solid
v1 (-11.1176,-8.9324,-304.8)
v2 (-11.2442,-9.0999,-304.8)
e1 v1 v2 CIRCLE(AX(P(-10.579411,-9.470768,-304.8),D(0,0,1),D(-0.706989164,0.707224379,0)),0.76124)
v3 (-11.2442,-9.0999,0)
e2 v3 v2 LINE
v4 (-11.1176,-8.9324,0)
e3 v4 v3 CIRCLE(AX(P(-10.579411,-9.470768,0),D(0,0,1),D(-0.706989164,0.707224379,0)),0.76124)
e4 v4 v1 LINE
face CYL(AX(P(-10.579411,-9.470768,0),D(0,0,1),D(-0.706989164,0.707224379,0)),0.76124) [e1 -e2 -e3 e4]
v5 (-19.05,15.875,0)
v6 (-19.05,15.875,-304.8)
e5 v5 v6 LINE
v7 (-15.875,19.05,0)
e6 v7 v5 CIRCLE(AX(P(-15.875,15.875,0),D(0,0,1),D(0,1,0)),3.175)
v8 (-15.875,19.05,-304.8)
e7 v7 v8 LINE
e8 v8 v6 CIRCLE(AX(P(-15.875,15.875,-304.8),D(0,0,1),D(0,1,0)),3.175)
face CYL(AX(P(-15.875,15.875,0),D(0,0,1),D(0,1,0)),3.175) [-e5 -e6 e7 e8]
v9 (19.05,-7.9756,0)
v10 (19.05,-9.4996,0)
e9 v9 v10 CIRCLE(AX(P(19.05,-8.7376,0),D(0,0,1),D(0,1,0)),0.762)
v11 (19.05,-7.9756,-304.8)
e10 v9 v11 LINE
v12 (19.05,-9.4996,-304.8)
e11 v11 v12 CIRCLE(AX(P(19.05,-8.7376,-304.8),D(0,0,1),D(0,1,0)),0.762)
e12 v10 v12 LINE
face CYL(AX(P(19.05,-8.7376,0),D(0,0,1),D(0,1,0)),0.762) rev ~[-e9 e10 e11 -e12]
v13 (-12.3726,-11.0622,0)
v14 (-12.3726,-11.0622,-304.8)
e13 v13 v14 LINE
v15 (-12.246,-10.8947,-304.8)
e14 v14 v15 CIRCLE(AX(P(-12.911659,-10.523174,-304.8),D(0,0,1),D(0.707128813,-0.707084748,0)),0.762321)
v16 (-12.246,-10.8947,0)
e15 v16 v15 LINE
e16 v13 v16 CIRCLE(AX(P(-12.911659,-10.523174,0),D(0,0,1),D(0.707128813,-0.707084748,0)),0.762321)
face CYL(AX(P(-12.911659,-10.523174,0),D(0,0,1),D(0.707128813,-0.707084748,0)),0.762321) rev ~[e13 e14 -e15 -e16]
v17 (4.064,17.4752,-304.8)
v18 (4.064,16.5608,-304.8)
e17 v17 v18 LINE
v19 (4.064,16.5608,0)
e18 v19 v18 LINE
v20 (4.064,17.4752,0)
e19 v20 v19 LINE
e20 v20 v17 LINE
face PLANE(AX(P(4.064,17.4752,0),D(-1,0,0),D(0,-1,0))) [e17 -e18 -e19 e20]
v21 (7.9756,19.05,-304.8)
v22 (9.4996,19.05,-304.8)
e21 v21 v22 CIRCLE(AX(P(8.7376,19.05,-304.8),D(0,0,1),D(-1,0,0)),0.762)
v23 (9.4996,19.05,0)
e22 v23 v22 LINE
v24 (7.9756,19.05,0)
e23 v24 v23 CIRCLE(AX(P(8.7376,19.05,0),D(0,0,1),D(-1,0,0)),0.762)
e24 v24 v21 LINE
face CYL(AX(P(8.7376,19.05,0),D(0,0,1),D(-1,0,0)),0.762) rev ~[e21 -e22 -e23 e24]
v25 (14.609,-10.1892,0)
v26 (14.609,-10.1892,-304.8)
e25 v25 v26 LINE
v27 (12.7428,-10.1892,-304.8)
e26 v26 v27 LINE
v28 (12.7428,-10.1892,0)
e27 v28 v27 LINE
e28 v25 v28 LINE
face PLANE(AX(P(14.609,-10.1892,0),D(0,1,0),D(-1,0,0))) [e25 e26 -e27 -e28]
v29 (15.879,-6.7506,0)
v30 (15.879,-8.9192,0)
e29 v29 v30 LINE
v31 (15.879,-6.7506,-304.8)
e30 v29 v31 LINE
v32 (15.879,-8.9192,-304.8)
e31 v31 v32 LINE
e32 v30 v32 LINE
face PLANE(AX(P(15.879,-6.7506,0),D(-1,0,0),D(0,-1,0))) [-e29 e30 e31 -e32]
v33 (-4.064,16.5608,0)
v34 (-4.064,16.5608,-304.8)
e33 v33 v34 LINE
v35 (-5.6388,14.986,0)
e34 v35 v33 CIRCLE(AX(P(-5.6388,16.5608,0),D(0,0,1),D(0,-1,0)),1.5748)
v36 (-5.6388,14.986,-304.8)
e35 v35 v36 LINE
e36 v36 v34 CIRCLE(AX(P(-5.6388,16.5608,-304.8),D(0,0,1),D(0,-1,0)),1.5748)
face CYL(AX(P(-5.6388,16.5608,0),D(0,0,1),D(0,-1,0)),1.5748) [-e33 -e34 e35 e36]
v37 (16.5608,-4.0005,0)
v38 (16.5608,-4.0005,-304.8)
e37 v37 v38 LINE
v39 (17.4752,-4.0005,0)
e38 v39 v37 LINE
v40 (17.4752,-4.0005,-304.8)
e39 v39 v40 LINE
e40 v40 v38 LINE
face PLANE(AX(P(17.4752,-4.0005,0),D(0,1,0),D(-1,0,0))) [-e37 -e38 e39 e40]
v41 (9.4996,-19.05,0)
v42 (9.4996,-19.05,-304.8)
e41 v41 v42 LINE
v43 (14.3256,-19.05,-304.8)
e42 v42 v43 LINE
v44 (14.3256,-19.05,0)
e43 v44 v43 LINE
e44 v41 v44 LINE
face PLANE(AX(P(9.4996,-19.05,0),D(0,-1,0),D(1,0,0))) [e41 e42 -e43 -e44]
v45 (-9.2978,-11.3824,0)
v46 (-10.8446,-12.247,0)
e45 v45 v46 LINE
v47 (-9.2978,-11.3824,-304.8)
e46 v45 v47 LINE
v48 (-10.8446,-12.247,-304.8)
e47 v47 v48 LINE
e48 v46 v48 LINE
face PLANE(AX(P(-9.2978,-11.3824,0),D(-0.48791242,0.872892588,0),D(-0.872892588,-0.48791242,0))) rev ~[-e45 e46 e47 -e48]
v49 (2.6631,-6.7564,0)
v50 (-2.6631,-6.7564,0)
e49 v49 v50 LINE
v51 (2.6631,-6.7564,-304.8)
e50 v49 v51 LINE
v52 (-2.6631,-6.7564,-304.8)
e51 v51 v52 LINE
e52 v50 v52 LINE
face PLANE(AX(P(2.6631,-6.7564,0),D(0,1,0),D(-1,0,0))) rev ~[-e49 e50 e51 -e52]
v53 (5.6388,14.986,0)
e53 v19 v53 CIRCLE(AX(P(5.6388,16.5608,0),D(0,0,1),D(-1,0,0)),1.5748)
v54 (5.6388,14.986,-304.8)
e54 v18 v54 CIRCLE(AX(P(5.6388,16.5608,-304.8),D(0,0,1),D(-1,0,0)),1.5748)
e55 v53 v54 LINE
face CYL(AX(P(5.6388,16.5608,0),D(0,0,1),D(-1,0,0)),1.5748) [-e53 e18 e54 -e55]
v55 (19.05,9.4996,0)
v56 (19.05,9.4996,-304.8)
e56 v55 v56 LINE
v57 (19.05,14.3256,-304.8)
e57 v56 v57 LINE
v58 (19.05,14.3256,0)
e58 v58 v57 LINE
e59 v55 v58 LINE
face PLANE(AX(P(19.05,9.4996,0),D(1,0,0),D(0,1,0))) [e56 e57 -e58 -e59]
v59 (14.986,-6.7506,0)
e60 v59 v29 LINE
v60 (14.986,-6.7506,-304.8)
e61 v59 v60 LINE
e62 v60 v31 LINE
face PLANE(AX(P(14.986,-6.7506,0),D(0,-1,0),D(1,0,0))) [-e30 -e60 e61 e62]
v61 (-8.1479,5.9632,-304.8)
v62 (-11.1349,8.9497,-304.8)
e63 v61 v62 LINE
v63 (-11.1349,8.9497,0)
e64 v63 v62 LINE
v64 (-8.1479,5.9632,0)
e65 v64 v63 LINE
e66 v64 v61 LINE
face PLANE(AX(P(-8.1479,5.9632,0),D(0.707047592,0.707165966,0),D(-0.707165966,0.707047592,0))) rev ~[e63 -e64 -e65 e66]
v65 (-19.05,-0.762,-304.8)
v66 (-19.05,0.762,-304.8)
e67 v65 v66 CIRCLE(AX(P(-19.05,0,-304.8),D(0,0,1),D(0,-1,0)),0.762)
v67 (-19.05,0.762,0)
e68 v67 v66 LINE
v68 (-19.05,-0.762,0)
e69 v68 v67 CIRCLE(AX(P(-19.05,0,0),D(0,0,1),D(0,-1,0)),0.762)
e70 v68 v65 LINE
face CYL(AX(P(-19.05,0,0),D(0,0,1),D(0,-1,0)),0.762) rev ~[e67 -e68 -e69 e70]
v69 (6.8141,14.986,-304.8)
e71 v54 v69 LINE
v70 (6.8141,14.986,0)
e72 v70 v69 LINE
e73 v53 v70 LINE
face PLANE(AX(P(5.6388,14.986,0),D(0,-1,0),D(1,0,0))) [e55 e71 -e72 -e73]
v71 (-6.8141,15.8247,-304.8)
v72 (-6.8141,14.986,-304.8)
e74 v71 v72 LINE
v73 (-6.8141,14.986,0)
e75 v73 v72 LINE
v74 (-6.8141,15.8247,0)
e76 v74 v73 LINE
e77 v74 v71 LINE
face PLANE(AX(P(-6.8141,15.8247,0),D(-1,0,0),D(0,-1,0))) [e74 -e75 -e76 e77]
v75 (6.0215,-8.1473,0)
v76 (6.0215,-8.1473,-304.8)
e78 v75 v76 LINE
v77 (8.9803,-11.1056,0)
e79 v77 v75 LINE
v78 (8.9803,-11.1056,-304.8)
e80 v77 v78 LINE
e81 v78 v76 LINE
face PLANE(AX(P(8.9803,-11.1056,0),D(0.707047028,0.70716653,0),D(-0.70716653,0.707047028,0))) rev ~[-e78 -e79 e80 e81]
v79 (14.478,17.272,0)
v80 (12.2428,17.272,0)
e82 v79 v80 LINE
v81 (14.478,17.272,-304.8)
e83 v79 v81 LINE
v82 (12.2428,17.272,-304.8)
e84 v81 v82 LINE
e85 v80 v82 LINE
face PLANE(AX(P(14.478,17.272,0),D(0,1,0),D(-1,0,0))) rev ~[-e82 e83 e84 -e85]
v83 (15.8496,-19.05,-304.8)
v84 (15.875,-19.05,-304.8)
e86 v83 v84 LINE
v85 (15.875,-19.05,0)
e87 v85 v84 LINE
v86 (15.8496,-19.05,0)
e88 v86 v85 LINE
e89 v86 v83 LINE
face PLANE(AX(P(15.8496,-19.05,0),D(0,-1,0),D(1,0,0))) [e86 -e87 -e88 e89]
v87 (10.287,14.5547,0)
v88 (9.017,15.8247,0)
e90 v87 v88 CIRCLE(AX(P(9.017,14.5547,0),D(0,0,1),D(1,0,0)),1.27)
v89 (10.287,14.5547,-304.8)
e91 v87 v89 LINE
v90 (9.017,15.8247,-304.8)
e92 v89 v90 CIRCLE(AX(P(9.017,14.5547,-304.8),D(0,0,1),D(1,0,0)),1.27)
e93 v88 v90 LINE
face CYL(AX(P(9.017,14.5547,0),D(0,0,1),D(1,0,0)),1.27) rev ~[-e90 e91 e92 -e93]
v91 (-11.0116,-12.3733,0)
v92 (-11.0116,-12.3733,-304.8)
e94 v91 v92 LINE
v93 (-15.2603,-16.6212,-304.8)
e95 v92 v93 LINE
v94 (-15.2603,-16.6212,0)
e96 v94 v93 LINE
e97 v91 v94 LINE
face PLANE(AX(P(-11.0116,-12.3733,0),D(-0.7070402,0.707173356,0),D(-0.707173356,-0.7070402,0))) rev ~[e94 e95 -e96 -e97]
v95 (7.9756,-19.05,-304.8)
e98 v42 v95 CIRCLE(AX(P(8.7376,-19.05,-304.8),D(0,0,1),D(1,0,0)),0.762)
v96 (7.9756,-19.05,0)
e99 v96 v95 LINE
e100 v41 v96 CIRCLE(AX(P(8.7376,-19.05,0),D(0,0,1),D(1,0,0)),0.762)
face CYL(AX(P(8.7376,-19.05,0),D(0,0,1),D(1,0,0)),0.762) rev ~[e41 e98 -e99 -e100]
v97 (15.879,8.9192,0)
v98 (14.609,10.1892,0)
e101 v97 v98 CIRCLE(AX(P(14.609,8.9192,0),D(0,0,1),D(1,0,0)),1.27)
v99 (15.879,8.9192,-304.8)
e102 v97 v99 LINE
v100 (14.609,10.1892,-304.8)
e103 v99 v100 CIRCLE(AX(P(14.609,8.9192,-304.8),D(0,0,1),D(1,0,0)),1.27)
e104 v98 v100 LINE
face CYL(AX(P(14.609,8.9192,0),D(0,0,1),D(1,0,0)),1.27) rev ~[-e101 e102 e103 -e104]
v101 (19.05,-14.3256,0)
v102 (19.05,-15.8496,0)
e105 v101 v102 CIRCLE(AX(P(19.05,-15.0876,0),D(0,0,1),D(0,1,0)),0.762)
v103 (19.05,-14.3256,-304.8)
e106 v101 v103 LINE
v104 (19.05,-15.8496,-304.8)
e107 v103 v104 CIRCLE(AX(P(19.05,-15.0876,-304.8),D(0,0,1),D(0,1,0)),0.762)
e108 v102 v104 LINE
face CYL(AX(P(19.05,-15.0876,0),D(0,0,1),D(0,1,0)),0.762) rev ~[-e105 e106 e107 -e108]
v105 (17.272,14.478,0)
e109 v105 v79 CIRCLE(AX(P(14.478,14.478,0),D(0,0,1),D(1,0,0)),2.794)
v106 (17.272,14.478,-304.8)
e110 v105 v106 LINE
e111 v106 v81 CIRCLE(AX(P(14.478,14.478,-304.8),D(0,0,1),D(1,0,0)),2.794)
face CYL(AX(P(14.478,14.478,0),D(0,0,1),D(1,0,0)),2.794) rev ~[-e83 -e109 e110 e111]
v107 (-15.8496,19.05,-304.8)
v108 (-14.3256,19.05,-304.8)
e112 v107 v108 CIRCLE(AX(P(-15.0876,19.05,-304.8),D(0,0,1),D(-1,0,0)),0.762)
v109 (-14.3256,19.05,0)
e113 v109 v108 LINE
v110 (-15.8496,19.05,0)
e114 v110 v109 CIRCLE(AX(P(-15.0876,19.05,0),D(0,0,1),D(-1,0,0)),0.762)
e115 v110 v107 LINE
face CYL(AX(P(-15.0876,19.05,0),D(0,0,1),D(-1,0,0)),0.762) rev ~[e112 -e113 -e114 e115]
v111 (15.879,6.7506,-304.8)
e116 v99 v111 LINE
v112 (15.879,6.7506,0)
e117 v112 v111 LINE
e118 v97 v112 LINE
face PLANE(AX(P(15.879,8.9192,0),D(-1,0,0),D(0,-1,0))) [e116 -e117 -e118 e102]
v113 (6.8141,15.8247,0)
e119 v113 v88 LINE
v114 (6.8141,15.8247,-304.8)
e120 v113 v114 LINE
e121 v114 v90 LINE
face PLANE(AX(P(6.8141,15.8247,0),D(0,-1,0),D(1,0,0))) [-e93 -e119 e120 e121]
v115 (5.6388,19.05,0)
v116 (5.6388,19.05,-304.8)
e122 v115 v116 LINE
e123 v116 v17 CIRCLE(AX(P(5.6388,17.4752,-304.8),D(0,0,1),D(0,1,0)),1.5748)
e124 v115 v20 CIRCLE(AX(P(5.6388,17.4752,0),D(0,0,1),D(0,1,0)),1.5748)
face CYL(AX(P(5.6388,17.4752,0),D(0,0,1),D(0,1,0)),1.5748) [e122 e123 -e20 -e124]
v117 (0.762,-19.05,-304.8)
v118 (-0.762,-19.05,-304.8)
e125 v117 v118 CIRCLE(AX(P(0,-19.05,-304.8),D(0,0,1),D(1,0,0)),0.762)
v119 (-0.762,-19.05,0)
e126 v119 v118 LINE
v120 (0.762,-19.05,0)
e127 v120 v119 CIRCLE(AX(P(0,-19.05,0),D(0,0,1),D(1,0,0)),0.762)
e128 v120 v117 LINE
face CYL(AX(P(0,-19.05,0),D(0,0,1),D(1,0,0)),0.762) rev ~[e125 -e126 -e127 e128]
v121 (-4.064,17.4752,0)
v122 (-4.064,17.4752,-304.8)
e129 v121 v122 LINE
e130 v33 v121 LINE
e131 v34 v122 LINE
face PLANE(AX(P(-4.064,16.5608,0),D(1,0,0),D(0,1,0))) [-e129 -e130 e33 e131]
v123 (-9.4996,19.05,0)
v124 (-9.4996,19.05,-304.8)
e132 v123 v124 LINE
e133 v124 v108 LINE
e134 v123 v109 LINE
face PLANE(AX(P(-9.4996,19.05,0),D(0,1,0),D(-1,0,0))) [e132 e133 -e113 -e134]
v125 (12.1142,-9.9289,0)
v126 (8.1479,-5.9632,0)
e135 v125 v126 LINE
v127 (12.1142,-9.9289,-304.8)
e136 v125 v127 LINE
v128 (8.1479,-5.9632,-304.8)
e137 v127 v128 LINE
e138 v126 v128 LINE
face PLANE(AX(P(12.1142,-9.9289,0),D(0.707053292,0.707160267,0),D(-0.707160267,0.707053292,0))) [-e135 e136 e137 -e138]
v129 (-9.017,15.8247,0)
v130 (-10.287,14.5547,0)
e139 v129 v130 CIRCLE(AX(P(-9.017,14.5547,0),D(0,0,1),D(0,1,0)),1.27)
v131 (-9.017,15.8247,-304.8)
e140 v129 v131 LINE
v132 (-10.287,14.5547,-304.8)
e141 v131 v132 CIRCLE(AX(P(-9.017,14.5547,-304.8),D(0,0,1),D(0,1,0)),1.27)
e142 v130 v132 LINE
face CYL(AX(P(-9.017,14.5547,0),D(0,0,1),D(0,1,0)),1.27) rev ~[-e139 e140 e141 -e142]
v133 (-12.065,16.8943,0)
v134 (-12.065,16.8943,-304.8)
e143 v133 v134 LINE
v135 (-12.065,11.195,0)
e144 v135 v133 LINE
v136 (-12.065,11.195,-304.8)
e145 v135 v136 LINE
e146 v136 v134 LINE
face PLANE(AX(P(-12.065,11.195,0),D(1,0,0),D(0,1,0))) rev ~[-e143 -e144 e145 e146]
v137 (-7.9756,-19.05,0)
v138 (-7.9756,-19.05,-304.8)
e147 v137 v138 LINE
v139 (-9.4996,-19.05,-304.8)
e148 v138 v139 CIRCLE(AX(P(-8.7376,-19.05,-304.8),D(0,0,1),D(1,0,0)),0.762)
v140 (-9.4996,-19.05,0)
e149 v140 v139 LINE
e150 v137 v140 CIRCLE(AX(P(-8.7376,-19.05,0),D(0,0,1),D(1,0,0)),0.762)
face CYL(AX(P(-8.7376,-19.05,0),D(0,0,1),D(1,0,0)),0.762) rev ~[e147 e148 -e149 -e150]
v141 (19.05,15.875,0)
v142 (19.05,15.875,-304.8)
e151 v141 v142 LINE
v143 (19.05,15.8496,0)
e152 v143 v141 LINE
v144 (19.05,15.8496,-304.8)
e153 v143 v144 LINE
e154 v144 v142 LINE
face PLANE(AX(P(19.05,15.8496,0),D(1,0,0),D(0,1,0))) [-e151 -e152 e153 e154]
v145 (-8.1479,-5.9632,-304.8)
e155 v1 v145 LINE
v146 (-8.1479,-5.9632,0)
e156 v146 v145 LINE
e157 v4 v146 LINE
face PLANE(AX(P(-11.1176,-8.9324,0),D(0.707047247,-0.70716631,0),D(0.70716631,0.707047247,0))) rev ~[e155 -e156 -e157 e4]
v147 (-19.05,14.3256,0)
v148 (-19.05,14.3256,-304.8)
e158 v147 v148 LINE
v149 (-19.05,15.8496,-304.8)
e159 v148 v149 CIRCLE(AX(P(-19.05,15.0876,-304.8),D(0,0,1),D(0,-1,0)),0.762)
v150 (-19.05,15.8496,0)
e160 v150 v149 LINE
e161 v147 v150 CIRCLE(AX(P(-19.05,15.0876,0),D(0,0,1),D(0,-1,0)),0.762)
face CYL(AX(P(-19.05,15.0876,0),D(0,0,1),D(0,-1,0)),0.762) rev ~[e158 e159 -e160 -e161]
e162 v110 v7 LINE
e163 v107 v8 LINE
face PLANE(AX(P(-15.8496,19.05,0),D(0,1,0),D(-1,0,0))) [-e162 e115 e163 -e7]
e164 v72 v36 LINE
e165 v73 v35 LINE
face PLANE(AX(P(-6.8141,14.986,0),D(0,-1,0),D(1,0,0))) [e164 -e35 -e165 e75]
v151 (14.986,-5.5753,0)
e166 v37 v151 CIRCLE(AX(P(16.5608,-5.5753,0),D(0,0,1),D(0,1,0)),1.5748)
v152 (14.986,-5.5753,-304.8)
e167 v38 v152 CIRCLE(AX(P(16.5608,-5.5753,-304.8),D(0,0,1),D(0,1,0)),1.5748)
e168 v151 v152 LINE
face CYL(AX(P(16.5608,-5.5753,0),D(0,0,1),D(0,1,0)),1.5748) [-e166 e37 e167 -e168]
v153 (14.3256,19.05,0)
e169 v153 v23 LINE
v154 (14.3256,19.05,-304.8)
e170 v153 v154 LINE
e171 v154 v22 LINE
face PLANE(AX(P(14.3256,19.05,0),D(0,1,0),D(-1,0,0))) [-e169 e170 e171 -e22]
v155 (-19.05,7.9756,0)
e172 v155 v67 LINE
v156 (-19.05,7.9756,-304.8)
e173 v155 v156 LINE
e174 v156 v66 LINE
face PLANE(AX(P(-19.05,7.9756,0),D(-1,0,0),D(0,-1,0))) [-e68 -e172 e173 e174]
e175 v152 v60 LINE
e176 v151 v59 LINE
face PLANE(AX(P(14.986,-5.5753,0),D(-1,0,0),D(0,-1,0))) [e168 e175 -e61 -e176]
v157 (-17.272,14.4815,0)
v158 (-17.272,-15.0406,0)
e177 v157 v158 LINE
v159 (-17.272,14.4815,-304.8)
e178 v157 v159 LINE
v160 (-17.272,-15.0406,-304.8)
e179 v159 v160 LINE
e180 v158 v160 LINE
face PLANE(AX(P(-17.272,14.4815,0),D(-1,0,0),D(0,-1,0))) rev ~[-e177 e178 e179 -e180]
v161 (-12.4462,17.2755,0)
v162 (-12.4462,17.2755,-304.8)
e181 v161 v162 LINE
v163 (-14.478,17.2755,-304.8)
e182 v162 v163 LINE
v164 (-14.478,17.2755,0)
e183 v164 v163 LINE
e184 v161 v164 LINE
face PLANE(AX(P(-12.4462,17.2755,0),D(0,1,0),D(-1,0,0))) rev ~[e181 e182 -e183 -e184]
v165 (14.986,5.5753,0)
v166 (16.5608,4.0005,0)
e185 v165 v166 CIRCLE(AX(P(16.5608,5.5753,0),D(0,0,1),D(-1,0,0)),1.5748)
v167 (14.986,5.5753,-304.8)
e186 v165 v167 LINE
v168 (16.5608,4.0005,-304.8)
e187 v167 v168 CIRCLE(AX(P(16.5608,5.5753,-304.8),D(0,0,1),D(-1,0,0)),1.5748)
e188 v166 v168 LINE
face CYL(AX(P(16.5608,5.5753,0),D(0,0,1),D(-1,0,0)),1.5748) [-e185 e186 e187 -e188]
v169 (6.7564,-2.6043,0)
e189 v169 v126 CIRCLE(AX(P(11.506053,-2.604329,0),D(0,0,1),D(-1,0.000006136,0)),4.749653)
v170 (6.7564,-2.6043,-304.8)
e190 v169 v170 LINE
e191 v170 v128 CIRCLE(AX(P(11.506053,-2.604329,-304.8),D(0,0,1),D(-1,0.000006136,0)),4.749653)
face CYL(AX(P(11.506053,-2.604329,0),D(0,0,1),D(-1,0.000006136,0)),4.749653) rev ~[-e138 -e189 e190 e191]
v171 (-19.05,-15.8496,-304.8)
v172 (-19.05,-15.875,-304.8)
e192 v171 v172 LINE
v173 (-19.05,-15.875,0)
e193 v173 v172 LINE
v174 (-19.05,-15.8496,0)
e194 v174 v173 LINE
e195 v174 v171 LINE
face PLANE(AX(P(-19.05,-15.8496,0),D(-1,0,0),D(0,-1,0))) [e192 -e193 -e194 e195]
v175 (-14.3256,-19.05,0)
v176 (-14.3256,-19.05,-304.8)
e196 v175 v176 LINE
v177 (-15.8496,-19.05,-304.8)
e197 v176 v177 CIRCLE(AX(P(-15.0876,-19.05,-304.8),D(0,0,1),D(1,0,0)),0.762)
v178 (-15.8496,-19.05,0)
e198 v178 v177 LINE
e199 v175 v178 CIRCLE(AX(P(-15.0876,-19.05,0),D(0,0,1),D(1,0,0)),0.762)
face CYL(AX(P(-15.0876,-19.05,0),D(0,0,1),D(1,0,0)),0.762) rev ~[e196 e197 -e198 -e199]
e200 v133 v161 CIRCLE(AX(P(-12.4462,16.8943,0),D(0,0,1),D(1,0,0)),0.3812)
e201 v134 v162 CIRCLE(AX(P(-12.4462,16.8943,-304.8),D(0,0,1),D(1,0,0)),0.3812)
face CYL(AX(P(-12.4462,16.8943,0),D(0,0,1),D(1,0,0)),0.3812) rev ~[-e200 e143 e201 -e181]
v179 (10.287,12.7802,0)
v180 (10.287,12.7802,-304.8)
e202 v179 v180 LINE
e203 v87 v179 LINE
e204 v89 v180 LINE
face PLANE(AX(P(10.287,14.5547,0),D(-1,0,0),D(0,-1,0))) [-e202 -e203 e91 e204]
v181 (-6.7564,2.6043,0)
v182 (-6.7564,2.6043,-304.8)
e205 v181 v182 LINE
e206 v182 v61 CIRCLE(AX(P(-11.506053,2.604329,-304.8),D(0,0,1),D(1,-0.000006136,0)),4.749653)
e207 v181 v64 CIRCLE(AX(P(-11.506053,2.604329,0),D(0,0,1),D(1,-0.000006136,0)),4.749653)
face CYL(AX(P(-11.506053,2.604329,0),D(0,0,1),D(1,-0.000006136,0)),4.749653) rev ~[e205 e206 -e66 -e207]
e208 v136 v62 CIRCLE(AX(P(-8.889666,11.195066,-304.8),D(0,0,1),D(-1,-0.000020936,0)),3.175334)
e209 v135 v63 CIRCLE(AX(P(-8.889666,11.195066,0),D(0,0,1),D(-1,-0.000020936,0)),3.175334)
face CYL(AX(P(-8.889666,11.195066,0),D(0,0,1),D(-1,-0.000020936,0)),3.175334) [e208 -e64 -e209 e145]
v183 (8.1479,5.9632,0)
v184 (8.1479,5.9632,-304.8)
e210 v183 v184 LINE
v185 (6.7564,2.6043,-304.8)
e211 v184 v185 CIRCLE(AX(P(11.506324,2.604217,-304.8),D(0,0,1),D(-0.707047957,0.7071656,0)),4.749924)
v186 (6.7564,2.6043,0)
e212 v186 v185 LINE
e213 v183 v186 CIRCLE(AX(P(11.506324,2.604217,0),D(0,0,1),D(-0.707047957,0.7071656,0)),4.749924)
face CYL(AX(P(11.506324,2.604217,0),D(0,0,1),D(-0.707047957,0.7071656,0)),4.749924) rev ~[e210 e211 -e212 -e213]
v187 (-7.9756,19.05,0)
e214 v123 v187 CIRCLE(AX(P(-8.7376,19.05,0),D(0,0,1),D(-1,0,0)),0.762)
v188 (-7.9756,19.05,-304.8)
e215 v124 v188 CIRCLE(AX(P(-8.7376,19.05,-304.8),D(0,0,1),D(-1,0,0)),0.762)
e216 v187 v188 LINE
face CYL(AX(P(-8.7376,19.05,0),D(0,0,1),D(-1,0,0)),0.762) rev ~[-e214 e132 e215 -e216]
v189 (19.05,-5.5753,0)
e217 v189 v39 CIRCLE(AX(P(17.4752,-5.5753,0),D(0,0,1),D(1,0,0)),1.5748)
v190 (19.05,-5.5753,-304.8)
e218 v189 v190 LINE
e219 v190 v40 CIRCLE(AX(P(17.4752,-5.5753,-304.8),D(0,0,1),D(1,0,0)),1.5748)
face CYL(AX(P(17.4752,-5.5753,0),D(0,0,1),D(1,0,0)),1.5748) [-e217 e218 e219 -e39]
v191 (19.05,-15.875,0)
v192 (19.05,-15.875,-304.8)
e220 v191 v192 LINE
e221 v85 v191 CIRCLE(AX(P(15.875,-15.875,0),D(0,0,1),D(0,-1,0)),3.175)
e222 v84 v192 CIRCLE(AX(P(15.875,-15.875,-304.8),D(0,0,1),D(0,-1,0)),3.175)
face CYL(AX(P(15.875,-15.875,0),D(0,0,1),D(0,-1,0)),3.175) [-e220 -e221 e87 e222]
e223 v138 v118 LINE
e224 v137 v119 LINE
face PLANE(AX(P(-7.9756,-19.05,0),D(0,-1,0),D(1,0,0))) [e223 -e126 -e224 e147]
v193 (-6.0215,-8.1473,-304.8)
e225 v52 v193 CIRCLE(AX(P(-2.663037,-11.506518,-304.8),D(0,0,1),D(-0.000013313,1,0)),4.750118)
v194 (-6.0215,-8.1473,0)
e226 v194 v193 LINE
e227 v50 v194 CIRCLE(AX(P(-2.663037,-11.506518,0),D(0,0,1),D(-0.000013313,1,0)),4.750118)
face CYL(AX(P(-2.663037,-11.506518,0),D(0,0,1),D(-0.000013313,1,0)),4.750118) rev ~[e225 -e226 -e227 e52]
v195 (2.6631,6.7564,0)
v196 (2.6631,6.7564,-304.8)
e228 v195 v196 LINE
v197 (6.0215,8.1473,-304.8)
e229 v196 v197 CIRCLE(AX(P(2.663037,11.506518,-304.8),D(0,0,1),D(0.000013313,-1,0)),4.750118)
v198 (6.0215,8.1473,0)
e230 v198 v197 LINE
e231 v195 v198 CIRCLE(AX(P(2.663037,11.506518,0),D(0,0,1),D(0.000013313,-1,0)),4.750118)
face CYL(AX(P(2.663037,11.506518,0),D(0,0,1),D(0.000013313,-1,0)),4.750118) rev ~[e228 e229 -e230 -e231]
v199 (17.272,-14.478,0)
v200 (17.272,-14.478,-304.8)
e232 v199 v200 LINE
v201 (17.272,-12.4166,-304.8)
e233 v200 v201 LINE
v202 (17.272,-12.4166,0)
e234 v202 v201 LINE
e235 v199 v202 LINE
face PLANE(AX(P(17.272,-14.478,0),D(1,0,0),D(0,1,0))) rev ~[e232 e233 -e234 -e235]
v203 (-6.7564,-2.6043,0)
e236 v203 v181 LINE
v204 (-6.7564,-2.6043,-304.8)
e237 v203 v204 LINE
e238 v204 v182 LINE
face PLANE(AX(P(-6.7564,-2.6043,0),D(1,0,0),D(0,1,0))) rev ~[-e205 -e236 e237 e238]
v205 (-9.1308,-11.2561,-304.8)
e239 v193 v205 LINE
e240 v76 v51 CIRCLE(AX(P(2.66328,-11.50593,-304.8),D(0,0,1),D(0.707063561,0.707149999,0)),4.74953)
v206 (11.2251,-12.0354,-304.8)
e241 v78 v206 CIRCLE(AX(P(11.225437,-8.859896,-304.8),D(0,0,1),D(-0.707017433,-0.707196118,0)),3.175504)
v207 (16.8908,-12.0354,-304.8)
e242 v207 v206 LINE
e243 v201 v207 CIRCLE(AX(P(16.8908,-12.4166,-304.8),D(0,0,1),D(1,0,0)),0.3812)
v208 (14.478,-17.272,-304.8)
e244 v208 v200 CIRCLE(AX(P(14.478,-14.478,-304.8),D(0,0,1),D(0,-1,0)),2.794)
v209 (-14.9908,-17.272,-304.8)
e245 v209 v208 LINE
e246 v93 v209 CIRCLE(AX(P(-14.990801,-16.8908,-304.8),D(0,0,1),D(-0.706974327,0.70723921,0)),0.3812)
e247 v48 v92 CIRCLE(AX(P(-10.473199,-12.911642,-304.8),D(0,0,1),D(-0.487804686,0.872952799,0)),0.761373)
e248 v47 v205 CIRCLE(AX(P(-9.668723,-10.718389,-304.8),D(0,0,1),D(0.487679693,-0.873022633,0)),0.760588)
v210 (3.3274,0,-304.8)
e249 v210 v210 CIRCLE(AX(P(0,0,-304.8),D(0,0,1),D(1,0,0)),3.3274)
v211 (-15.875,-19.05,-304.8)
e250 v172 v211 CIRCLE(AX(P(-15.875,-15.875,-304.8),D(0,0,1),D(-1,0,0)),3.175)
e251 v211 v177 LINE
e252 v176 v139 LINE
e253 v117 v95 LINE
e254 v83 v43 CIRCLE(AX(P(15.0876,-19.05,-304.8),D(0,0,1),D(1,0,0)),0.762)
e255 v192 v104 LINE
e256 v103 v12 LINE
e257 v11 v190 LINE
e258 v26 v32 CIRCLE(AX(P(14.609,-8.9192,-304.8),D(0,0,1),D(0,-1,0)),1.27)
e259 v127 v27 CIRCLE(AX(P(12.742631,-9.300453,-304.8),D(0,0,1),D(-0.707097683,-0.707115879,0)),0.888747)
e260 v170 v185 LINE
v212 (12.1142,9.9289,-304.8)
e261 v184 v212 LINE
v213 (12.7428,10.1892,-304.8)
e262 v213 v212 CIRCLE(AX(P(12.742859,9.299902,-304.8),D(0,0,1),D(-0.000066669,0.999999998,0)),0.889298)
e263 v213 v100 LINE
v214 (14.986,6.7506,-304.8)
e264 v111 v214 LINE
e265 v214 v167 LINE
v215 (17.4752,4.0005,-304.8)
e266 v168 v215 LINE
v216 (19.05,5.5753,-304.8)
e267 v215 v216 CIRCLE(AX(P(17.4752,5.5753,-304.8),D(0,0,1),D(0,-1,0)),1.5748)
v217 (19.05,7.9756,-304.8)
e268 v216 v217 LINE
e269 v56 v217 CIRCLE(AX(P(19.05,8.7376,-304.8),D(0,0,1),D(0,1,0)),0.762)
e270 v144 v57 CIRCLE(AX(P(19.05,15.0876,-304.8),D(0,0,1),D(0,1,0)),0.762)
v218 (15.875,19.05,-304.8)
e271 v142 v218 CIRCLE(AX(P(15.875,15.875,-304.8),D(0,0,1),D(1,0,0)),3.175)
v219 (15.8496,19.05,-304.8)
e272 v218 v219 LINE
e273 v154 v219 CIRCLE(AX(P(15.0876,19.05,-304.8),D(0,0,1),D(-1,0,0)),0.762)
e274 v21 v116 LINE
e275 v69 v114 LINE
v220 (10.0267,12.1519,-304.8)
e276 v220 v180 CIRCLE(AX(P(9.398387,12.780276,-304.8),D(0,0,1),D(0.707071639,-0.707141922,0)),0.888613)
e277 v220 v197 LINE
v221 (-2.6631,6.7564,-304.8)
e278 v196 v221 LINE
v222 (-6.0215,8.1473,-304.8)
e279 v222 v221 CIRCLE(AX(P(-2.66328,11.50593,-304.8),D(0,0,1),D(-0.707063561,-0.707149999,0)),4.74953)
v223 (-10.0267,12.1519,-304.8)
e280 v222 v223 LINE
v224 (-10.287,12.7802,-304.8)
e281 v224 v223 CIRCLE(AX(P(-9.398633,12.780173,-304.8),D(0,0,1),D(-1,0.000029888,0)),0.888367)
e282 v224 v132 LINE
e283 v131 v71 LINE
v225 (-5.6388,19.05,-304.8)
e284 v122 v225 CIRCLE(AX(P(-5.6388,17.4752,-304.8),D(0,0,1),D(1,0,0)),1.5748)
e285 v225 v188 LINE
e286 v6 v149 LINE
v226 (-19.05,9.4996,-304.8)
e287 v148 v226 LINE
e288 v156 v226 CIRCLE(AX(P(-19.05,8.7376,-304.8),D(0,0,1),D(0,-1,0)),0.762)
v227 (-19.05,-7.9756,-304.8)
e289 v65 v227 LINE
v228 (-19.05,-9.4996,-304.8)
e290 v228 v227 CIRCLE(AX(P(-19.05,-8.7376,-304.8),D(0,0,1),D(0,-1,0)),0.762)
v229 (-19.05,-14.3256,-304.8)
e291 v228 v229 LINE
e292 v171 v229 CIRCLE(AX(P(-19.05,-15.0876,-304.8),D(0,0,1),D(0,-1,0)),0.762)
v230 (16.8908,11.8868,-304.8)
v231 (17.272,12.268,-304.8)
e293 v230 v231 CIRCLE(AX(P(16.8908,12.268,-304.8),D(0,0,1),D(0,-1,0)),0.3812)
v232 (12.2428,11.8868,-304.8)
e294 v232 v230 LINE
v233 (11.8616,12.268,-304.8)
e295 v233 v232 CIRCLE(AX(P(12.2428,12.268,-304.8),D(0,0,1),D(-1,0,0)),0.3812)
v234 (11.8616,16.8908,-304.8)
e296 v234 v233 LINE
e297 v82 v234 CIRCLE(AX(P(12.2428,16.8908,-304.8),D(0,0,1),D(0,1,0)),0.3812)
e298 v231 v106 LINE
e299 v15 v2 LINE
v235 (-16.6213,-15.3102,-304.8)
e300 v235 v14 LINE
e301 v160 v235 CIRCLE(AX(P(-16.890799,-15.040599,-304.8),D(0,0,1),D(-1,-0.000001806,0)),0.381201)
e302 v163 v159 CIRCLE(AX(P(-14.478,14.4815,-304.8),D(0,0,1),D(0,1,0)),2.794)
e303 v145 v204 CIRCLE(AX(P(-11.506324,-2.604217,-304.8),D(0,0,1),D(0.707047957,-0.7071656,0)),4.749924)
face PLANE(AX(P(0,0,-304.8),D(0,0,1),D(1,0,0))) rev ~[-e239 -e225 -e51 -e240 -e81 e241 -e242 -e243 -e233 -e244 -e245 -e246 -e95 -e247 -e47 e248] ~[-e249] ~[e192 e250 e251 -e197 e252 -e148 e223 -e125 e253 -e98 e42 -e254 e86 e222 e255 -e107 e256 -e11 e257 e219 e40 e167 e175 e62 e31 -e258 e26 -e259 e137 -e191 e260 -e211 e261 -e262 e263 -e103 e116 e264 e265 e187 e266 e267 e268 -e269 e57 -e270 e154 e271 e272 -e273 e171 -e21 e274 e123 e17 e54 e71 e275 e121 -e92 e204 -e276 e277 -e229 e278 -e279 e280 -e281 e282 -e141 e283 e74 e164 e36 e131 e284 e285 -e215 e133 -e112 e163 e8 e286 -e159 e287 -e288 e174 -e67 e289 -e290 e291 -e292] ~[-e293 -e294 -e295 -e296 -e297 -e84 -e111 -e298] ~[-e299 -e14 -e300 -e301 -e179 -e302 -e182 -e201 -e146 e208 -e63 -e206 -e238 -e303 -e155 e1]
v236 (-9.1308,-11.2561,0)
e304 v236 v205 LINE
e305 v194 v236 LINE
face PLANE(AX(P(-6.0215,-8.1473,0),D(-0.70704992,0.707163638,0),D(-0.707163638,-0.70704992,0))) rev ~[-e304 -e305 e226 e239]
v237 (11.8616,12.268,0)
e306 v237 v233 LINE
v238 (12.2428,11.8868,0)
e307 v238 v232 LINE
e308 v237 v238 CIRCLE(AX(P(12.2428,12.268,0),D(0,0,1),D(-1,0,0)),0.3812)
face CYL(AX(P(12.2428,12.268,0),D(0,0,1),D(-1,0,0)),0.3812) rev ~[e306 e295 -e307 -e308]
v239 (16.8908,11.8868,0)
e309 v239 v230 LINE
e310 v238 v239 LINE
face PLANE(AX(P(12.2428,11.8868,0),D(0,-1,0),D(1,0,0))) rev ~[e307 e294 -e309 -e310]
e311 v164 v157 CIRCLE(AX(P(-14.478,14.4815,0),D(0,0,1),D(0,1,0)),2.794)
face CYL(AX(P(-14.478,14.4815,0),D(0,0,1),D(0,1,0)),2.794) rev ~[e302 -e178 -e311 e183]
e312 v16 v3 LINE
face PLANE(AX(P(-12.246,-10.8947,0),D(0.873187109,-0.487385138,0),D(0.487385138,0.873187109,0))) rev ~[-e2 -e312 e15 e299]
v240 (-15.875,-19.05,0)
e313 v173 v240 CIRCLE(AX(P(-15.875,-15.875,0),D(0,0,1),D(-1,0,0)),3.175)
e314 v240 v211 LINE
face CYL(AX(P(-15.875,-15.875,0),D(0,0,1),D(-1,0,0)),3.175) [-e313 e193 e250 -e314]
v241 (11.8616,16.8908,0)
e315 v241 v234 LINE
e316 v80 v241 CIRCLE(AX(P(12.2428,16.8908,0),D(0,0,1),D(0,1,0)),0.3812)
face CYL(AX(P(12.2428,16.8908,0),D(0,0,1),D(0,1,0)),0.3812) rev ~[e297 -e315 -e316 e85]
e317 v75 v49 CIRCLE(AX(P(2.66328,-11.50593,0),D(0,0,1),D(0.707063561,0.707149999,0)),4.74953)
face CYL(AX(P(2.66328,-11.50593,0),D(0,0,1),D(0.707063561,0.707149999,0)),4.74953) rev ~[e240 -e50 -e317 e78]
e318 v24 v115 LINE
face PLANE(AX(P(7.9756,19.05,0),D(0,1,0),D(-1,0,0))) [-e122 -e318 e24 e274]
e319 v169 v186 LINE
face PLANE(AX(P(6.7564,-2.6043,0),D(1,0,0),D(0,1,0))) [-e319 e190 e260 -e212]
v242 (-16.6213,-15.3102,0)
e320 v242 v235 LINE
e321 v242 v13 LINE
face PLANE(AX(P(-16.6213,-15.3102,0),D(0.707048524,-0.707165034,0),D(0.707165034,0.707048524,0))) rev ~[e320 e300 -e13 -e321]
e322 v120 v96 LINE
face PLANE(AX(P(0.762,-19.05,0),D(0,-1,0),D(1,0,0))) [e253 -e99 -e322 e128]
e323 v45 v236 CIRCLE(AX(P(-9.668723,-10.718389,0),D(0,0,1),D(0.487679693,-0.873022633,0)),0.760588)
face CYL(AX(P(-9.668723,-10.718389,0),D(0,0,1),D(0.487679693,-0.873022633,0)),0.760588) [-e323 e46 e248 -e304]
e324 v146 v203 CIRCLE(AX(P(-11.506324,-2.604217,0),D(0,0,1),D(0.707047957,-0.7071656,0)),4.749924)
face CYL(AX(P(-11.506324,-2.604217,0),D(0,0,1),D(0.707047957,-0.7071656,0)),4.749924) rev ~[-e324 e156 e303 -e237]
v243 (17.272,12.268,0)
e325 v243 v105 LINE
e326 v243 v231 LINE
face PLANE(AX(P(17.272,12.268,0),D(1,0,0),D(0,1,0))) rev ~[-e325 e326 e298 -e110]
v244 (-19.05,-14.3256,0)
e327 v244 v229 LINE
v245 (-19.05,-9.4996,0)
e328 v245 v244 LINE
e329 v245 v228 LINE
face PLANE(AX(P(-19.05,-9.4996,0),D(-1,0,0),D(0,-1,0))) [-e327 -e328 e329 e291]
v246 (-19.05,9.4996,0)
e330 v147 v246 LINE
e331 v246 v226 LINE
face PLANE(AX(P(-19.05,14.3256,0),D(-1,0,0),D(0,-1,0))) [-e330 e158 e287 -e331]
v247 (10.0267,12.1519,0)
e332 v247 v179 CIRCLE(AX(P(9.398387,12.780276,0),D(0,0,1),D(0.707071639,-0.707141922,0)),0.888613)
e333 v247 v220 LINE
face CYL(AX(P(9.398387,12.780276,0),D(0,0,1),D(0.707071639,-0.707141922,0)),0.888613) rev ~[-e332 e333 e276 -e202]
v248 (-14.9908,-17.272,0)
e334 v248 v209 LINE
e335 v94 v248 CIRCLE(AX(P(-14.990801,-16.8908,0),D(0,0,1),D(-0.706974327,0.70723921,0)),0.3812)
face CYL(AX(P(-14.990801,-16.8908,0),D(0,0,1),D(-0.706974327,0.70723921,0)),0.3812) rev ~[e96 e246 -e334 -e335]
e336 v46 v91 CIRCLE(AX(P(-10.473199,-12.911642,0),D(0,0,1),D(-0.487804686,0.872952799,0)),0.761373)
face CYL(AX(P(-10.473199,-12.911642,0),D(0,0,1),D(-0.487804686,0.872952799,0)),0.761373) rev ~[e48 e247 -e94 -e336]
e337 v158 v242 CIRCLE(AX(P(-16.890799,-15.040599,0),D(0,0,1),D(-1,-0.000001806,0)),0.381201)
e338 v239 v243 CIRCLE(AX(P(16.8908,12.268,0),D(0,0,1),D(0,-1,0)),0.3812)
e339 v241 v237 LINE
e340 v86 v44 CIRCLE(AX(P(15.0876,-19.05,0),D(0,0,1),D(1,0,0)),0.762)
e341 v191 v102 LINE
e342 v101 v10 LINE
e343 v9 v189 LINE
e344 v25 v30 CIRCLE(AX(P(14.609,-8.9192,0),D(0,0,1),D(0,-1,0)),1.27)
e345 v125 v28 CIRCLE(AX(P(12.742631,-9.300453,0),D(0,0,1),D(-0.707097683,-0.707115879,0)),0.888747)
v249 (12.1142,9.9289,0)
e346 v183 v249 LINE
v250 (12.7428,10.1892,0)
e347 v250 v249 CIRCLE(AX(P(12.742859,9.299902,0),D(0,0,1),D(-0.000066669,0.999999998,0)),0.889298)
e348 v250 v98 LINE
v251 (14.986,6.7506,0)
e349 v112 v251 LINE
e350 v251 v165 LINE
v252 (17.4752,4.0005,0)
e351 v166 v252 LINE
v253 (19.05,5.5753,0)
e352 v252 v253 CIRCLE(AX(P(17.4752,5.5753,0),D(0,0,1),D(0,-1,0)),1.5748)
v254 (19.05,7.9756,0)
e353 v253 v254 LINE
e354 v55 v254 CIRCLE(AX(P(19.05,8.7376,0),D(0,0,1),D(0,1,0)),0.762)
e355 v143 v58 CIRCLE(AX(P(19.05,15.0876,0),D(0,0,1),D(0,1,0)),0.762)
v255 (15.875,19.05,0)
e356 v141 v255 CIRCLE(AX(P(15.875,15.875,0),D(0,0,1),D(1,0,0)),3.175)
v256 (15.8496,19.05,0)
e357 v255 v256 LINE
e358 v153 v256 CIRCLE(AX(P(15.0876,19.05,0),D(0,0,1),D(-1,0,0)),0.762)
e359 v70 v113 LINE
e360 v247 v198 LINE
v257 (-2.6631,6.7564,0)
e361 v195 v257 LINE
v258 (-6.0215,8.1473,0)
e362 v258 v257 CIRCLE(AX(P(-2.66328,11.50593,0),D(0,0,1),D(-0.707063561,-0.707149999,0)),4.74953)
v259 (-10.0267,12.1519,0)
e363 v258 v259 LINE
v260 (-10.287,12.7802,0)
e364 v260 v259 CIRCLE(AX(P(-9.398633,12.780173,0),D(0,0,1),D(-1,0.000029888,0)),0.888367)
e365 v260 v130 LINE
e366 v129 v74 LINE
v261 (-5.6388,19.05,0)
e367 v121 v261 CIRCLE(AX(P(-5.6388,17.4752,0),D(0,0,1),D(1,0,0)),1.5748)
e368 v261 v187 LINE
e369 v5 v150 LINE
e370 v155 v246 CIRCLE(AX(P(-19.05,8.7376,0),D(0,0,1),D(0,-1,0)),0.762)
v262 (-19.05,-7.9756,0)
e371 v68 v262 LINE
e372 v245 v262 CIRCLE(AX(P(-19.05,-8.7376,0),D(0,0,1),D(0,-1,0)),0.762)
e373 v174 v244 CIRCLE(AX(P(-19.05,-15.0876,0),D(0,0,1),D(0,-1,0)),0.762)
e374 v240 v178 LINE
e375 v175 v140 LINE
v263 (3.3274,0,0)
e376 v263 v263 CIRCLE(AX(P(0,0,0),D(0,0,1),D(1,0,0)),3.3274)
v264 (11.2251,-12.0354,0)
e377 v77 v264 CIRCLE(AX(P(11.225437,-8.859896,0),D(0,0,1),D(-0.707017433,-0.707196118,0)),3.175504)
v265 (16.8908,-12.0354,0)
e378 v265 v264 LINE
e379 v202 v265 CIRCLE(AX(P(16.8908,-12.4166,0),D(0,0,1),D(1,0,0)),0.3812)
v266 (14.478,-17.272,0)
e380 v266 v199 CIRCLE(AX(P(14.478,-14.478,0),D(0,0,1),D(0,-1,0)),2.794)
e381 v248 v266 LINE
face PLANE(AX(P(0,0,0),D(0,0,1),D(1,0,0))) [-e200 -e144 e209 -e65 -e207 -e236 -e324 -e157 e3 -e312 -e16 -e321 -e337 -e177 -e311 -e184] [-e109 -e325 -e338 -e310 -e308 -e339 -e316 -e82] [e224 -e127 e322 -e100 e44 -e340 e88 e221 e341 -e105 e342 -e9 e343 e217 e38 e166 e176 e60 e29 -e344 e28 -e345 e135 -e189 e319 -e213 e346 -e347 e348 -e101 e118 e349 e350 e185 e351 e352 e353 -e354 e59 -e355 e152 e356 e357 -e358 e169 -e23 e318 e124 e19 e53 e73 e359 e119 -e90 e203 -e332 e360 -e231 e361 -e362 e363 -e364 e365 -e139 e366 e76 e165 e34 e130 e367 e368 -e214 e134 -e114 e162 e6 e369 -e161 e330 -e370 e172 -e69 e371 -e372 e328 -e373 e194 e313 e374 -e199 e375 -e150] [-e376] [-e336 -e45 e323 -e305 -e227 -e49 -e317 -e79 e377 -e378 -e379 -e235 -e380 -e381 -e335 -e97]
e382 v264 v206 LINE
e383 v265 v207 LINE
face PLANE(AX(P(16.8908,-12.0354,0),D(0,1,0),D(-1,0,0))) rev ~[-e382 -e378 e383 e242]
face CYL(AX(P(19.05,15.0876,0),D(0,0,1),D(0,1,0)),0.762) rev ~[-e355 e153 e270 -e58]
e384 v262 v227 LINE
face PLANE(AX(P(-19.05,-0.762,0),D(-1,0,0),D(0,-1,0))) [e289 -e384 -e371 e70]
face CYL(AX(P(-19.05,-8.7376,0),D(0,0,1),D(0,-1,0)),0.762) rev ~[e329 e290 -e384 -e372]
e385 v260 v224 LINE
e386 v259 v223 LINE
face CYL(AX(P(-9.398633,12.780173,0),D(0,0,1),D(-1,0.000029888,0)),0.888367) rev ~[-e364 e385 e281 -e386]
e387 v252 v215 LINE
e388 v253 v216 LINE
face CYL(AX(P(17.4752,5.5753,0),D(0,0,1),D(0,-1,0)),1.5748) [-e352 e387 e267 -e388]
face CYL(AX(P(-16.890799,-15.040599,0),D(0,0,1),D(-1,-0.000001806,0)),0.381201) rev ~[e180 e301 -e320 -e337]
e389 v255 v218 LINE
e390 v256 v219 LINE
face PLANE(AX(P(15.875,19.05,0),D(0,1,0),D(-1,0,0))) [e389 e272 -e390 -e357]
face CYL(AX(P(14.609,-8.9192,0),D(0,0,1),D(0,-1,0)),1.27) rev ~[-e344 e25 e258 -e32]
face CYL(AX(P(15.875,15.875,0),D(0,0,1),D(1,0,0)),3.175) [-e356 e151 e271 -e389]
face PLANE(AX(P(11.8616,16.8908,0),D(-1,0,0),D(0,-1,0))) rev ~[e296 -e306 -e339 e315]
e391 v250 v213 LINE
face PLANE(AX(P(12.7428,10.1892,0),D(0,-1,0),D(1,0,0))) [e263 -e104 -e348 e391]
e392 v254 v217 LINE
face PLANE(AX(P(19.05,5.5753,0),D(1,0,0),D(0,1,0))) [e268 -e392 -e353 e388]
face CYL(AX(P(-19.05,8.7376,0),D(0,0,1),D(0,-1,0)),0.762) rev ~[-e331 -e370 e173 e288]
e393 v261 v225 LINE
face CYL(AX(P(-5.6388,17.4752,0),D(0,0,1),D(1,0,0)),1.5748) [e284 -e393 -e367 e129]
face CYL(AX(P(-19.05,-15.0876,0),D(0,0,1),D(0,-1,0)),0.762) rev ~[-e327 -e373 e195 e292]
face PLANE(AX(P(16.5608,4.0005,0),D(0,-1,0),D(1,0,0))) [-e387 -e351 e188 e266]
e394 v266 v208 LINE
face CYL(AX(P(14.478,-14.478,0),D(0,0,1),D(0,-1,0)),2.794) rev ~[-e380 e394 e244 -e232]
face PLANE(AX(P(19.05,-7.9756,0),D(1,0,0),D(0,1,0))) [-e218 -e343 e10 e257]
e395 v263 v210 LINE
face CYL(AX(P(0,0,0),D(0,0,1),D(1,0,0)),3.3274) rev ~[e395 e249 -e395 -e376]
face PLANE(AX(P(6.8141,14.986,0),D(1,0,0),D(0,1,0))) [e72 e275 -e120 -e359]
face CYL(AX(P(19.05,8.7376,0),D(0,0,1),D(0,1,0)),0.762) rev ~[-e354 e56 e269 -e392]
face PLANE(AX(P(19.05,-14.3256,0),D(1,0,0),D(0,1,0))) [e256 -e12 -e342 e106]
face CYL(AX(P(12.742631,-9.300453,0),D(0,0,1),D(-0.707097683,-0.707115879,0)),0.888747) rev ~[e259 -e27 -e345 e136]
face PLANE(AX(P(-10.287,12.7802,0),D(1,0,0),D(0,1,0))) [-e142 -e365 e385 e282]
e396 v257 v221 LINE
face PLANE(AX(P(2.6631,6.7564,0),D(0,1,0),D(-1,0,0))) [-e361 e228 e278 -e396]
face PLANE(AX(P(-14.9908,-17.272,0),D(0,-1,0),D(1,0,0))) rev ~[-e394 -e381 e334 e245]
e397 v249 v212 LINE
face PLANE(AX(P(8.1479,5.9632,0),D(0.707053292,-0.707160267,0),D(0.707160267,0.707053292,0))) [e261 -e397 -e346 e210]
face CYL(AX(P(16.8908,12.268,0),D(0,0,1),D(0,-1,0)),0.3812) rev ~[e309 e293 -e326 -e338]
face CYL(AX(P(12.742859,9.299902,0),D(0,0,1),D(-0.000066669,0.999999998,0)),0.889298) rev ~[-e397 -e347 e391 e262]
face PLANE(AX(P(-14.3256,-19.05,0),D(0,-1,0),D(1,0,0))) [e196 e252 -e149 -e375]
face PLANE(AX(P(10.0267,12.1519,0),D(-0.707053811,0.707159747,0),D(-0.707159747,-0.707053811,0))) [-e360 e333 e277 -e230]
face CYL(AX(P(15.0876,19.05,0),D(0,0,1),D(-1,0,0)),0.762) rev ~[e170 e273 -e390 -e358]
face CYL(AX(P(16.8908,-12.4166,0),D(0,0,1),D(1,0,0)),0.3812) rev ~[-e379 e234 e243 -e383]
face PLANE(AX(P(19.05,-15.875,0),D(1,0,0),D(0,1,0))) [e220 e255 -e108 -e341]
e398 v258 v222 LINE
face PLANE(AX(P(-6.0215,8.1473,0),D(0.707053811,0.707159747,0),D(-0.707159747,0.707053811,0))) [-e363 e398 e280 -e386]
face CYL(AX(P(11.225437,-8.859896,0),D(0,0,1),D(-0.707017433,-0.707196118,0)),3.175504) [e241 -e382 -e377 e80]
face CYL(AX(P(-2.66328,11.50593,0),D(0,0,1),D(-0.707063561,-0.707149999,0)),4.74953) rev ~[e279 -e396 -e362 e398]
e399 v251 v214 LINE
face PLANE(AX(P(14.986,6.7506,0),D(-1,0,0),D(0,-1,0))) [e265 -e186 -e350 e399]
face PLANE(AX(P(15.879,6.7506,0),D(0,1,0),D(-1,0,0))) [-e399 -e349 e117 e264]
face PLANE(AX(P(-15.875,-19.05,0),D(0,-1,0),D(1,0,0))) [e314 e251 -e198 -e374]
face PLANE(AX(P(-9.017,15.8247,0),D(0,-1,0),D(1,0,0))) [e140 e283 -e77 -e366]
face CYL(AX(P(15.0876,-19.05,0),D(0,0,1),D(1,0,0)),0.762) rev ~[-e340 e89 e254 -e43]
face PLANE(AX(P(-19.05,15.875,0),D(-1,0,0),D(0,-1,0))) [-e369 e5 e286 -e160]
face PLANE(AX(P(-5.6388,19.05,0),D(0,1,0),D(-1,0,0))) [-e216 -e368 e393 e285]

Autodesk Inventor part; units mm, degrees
ref_plane "YZ Plane" through (0, 0, 0) normal (1, 0, 0) x (0, 1, 0)
ref_plane "XZ Plane" through (0, 0, 0) normal (0, 1, 0) x (-1, 0, 0)
ref_plane "XY Plane" through (0, 0, 0) normal (0, 0, 1) x (1, 0, 0)
sketch "Sketch1" plane through (0, 0, 0) normal (0, 0, 1) x (1, 0, 0)
  circle A0 centre (0, 0) radius 3.3274
  arc A1 (17.272, 14.478) -> (14.478, 17.272) centre (14.478, 14.478) ccw
  line L0 (17.272, 12.268) -> (17.272, 14.478)
  arc A2 (16.8908, 11.8868) -> (17.272, 12.268) centre (16.8908, 12.268) ccw
  line L1 (12.2428, 11.8868) -> (16.8908, 11.8868)
  arc A3 (11.8616, 12.268) -> (12.2428, 11.8868) centre (12.2428, 12.268) ccw
  line L2 (11.8616, 16.8908) -> (11.8616, 12.268)
  arc A4 (12.2428, 17.272) -> (11.8616, 16.8908) centre (12.2428, 16.8908) ccw
  line L3 (14.478, 17.272) -> (12.2428, 17.272)
  arc A5 (-8.1479, -5.9632) -> (-6.7564, -2.6043) centre (-11.5062, -2.6043) ccw
  line L4 (-11.1176, -8.9324) -> (-8.1479, -5.9632)
  arc A6 (-11.1176, -8.9324) -> (-11.2442, -9.0999) centre (-10.5788, -9.4713) ccw
  line L5 (-12.246, -10.8947) -> (-11.2442, -9.0999)
  arc A7 (-12.3726, -11.0622) -> (-12.246, -10.8947) centre (-12.9114, -10.5234) ccw
  line L6 (-16.6213, -15.3102) -> (-12.3726, -11.0622)
  arc A8 (-17.272, -15.0406) -> (-16.6213, -15.3102) centre (-16.8908, -15.0406) ccw
  line L7 (-17.272, 14.4815) -> (-17.272, -15.0406)
  arc A9 (-14.478, 17.2755) -> (-17.272, 14.4815) centre (-14.478, 14.4815) ccw
  line L8 (-12.4462, 17.2755) -> (-14.478, 17.2755)
  arc A10 (-12.065, 16.8943) -> (-12.4462, 17.2755) centre (-12.4462, 16.8943) ccw
  line L9 (-12.065, 11.195) -> (-12.065, 16.8943)
  arc A11 (-12.065, 11.195) -> (-11.1349, 8.9497) centre (-8.89, 11.195) ccw
  line L10 (-8.1479, 5.9632) -> (-11.1349, 8.9497)
  arc A12 (-6.7564, 2.6043) -> (-8.1479, 5.9632) centre (-11.5062, 2.6043) ccw
  line L11 (-6.7564, -2.6043) -> (-6.7564, 2.6043)
  arc A13 (-9.2978, -11.3824) -> (-9.1308, -11.2561) centre (-9.6695, -10.7172) ccw
  line L12 (-6.0215, -8.1473) -> (-9.1308, -11.2561)
  arc A14 (-2.6631, -6.7564) -> (-6.0215, -8.1473) centre (-2.6631, -11.5062) ccw
  line L13 (2.6631, -6.7564) -> (-2.6631, -6.7564)
  arc A15 (6.0215, -8.1473) -> (2.6631, -6.7564) centre (2.6631, -11.5062) ccw
  line L14 (8.9803, -11.1056) -> (6.0215, -8.1473)
  arc A16 (8.9803, -11.1056) -> (11.2251, -12.0354) centre (11.2251, -8.8604) ccw
  line L15 (16.8908, -12.0354) -> (11.2251, -12.0354)
  arc A17 (17.272, -12.4166) -> (16.8908, -12.0354) centre (16.8908, -12.4166) ccw
  line L16 (17.272, -14.478) -> (17.272, -12.4166)
  arc A18 (14.478, -17.272) -> (17.272, -14.478) centre (14.478, -14.478) ccw
  line L17 (-14.9908, -17.272) -> (14.478, -17.272)
  arc A19 (-15.2603, -16.6212) -> (-14.9908, -17.272) centre (-14.9908, -16.8908) ccw
  line L18 (-11.0116, -12.3733) -> (-15.2603, -16.6212)
  arc A20 (-10.8446, -12.247) -> (-11.0116, -12.3733) centre (-10.4729, -12.9121) ccw
  line L19 (-9.2978, -11.3824) -> (-10.8446, -12.247)
  line L20 (15.879, -6.7506) -> (15.879, -8.9192)
  arc A21 (14.609, -10.1892) -> (15.879, -8.9192) centre (14.609, -8.9192) ccw
  line L21 (14.609, -10.1892) -> (12.7428, -10.1892)
  arc A22 (12.1142, -9.9289) -> (12.7428, -10.1892) centre (12.7428, -9.3002) ccw
  line L22 (12.1142, -9.9289) -> (8.1479, -5.9632)
  arc A23 (6.7564, -2.6043) -> (8.1479, -5.9632) centre (11.5062, -2.6043) ccw
  line L23 (6.7564, -2.6043) -> (6.7564, 2.6043)
  arc A24 (8.1479, 5.9632) -> (6.7564, 2.6043) centre (11.5062, 2.6043) ccw
  line L24 (8.1479, 5.9632) -> (12.1142, 9.9289)
  arc A25 (12.7428, 10.1892) -> (12.1142, 9.9289) centre (12.7428, 9.3002) ccw
  line L25 (12.7428, 10.1892) -> (14.609, 10.1892)
  arc A26 (15.879, 8.9192) -> (14.609, 10.1892) centre (14.609, 8.9192) ccw
  line L26 (15.879, 8.9192) -> (15.879, 6.7506)
  line L27 (15.879, 6.7506) -> (14.986, 6.7506)
  line L28 (14.986, 6.7506) -> (14.986, 5.5753)
  arc A27 (14.986, 5.5753) -> (16.5608, 4.0005) centre (16.5608, 5.5753) ccw
  line L29 (16.5608, 4.0005) -> (17.4752, 4.0005)
  arc A28 (17.4752, 4.0005) -> (19.05, 5.5753) centre (17.4752, 5.5753) ccw
  line L30 (19.05, 5.5753) -> (19.05, 7.9756)
  arc A29 (19.05, 9.4996) -> (19.05, 7.9756) centre (19.05, 8.7376) ccw
  line L31 (19.05, 9.4996) -> (19.05, 14.3256)
  arc A30 (19.05, 15.8496) -> (19.05, 14.3256) centre (19.05, 15.0876) ccw
  line L32 (19.05, 15.8496) -> (19.05, 15.875)
  arc A31 (19.05, 15.875) -> (15.875, 19.05) centre (15.875, 15.875) ccw
  line L33 (15.875, 19.05) -> (15.8496, 19.05)
  arc A32 (14.3256, 19.05) -> (15.8496, 19.05) centre (15.0876, 19.05) ccw
  line L34 (14.3256, 19.05) -> (9.4996, 19.05)
  arc A33 (7.9756, 19.05) -> (9.4996, 19.05) centre (8.7376, 19.05) ccw
  line L35 (7.9756, 19.05) -> (5.6388, 19.05)
  arc A34 (5.6388, 19.05) -> (4.064, 17.4752) centre (5.6388, 17.4752) ccw
  line L36 (4.064, 17.4752) -> (4.064, 16.5608)
  arc A35 (4.064, 16.5608) -> (5.6388, 14.986) centre (5.6388, 16.5608) ccw
  line L37 (5.6388, 14.986) -> (6.8141, 14.986)
  line L38 (6.8141, 14.986) -> (6.8141, 15.8247)
  line L39 (6.8141, 15.8247) -> (9.017, 15.8247)
  arc A36 (10.287, 14.5547) -> (9.017, 15.8247) centre (9.017, 14.5547) ccw
  line L40 (10.287, 14.5547) -> (10.287, 12.7802)
  arc A37 (10.0267, 12.1519) -> (10.287, 12.7802) centre (9.3985, 12.7802) ccw
  line L41 (10.0267, 12.1519) -> (6.0215, 8.1473)
  arc A38 (2.6631, 6.7564) -> (6.0215, 8.1473) centre (2.6631, 11.5062) ccw
  line L42 (2.6631, 6.7564) -> (-2.6631, 6.7564)
  arc A39 (-6.0215, 8.1473) -> (-2.6631, 6.7564) centre (-2.6631, 11.5062) ccw
  line L43 (-6.0215, 8.1473) -> (-10.0267, 12.1519)
  arc A40 (-10.287, 12.7802) -> (-10.0267, 12.1519) centre (-9.3985, 12.7802) ccw
  line L44 (-10.287, 12.7802) -> (-10.287, 14.5547)
  arc A41 (-9.017, 15.8247) -> (-10.287, 14.5547) centre (-9.017, 14.5547) ccw
  line L45 (-9.017, 15.8247) -> (-6.8141, 15.8247)
  line L46 (-6.8141, 15.8247) -> (-6.8141, 14.986)
  line L47 (-6.8141, 14.986) -> (-5.6388, 14.986)
  arc A42 (-5.6388, 14.986) -> (-4.064, 16.5608) centre (-5.6388, 16.5608) ccw
  line L48 (-4.064, 16.5608) -> (-4.064, 17.4752)
  arc A43 (-4.064, 17.4752) -> (-5.6388, 19.05) centre (-5.6388, 17.4752) ccw
  line L49 (-5.6388, 19.05) -> (-7.9756, 19.05)
  arc A44 (-9.4996, 19.05) -> (-7.9756, 19.05) centre (-8.7376, 19.05) ccw
  line L50 (-9.4996, 19.05) -> (-14.3256, 19.05)
  arc A45 (-15.8496, 19.05) -> (-14.3256, 19.05) centre (-15.0876, 19.05) ccw
  line L51 (-15.8496, 19.05) -> (-15.875, 19.05)
  arc A46 (-15.875, 19.05) -> (-19.05, 15.875) centre (-15.875, 15.875) ccw
  line L52 (-19.05, 15.875) -> (-19.05, 15.8496)
  arc A47 (-19.05, 14.3256) -> (-19.05, 15.8496) centre (-19.05, 15.0876) ccw
  line L53 (-19.05, 14.3256) -> (-19.05, 9.4996)
  arc A48 (-19.05, 7.9756) -> (-19.05, 9.4996) centre (-19.05, 8.7376) ccw
  line L54 (-19.05, 7.9756) -> (-19.05, 0.762)
  arc A49 (-19.05, -0.762) -> (-19.05, 0.762) centre (-19.05, 0) ccw
  line L55 (-19.05, -0.762) -> (-19.05, -7.9756)
  arc A50 (-19.05, -9.4996) -> (-19.05, -7.9756) centre (-19.05, -8.7376) ccw
  line L56 (-19.05, -9.4996) -> (-19.05, -14.3256)
  arc A51 (-19.05, -15.8496) -> (-19.05, -14.3256) centre (-19.05, -15.0876) ccw
  line L57 (-19.05, -15.8496) -> (-19.05, -15.875)
  arc A52 (-19.05, -15.875) -> (-15.875, -19.05) centre (-15.875, -15.875) ccw
  line L58 (-15.875, -19.05) -> (-15.8496, -19.05)
  arc A53 (-14.3256, -19.05) -> (-15.8496, -19.05) centre (-15.0876, -19.05) ccw
  line L59 (-14.3256, -19.05) -> (-9.4996, -19.05)
  arc A54 (-7.9756, -19.05) -> (-9.4996, -19.05) centre (-8.7376, -19.05) ccw
  line L60 (-7.9756, -19.05) -> (-0.762, -19.05)
  arc A55 (0.762, -19.05) -> (-0.762, -19.05) centre (0, -19.05) ccw
  line L61 (0.762, -19.05) -> (7.9756, -19.05)
  arc A56 (9.4996, -19.05) -> (7.9756, -19.05) centre (8.7376, -19.05) ccw
  line L62 (9.4996, -19.05) -> (14.3256, -19.05)
  arc A57 (15.8496, -19.05) -> (14.3256, -19.05) centre (15.0876, -19.05) ccw
  line L63 (15.8496, -19.05) -> (15.875, -19.05)
  arc A58 (15.875, -19.05) -> (19.05, -15.875) centre (15.875, -15.875) ccw
  line L64 (19.05, -15.875) -> (19.05, -15.8496)
  arc A59 (19.05, -14.3256) -> (19.05, -15.8496) centre (19.05, -15.0876) ccw
  line L65 (19.05, -14.3256) -> (19.05, -9.4996)
  arc A60 (19.05, -7.9756) -> (19.05, -9.4996) centre (19.05, -8.7376) ccw
  line L66 (19.05, -7.9756) -> (19.05, -5.5753)
  arc A61 (19.05, -5.5753) -> (17.4752, -4.0005) centre (17.4752, -5.5753) ccw
  line L67 (17.4752, -4.0005) -> (16.5608, -4.0005)
  arc A62 (16.5608, -4.0005) -> (14.986, -5.5753) centre (16.5608, -5.5753) ccw
  line L68 (14.986, -5.5753) -> (14.986, -6.7506)
  line L69 (14.986, -6.7506) -> (15.879, -6.7506)
extrude "Extrusion1" add sketch "Sketch1" against normal blind 304.8
properties part number "1502"
